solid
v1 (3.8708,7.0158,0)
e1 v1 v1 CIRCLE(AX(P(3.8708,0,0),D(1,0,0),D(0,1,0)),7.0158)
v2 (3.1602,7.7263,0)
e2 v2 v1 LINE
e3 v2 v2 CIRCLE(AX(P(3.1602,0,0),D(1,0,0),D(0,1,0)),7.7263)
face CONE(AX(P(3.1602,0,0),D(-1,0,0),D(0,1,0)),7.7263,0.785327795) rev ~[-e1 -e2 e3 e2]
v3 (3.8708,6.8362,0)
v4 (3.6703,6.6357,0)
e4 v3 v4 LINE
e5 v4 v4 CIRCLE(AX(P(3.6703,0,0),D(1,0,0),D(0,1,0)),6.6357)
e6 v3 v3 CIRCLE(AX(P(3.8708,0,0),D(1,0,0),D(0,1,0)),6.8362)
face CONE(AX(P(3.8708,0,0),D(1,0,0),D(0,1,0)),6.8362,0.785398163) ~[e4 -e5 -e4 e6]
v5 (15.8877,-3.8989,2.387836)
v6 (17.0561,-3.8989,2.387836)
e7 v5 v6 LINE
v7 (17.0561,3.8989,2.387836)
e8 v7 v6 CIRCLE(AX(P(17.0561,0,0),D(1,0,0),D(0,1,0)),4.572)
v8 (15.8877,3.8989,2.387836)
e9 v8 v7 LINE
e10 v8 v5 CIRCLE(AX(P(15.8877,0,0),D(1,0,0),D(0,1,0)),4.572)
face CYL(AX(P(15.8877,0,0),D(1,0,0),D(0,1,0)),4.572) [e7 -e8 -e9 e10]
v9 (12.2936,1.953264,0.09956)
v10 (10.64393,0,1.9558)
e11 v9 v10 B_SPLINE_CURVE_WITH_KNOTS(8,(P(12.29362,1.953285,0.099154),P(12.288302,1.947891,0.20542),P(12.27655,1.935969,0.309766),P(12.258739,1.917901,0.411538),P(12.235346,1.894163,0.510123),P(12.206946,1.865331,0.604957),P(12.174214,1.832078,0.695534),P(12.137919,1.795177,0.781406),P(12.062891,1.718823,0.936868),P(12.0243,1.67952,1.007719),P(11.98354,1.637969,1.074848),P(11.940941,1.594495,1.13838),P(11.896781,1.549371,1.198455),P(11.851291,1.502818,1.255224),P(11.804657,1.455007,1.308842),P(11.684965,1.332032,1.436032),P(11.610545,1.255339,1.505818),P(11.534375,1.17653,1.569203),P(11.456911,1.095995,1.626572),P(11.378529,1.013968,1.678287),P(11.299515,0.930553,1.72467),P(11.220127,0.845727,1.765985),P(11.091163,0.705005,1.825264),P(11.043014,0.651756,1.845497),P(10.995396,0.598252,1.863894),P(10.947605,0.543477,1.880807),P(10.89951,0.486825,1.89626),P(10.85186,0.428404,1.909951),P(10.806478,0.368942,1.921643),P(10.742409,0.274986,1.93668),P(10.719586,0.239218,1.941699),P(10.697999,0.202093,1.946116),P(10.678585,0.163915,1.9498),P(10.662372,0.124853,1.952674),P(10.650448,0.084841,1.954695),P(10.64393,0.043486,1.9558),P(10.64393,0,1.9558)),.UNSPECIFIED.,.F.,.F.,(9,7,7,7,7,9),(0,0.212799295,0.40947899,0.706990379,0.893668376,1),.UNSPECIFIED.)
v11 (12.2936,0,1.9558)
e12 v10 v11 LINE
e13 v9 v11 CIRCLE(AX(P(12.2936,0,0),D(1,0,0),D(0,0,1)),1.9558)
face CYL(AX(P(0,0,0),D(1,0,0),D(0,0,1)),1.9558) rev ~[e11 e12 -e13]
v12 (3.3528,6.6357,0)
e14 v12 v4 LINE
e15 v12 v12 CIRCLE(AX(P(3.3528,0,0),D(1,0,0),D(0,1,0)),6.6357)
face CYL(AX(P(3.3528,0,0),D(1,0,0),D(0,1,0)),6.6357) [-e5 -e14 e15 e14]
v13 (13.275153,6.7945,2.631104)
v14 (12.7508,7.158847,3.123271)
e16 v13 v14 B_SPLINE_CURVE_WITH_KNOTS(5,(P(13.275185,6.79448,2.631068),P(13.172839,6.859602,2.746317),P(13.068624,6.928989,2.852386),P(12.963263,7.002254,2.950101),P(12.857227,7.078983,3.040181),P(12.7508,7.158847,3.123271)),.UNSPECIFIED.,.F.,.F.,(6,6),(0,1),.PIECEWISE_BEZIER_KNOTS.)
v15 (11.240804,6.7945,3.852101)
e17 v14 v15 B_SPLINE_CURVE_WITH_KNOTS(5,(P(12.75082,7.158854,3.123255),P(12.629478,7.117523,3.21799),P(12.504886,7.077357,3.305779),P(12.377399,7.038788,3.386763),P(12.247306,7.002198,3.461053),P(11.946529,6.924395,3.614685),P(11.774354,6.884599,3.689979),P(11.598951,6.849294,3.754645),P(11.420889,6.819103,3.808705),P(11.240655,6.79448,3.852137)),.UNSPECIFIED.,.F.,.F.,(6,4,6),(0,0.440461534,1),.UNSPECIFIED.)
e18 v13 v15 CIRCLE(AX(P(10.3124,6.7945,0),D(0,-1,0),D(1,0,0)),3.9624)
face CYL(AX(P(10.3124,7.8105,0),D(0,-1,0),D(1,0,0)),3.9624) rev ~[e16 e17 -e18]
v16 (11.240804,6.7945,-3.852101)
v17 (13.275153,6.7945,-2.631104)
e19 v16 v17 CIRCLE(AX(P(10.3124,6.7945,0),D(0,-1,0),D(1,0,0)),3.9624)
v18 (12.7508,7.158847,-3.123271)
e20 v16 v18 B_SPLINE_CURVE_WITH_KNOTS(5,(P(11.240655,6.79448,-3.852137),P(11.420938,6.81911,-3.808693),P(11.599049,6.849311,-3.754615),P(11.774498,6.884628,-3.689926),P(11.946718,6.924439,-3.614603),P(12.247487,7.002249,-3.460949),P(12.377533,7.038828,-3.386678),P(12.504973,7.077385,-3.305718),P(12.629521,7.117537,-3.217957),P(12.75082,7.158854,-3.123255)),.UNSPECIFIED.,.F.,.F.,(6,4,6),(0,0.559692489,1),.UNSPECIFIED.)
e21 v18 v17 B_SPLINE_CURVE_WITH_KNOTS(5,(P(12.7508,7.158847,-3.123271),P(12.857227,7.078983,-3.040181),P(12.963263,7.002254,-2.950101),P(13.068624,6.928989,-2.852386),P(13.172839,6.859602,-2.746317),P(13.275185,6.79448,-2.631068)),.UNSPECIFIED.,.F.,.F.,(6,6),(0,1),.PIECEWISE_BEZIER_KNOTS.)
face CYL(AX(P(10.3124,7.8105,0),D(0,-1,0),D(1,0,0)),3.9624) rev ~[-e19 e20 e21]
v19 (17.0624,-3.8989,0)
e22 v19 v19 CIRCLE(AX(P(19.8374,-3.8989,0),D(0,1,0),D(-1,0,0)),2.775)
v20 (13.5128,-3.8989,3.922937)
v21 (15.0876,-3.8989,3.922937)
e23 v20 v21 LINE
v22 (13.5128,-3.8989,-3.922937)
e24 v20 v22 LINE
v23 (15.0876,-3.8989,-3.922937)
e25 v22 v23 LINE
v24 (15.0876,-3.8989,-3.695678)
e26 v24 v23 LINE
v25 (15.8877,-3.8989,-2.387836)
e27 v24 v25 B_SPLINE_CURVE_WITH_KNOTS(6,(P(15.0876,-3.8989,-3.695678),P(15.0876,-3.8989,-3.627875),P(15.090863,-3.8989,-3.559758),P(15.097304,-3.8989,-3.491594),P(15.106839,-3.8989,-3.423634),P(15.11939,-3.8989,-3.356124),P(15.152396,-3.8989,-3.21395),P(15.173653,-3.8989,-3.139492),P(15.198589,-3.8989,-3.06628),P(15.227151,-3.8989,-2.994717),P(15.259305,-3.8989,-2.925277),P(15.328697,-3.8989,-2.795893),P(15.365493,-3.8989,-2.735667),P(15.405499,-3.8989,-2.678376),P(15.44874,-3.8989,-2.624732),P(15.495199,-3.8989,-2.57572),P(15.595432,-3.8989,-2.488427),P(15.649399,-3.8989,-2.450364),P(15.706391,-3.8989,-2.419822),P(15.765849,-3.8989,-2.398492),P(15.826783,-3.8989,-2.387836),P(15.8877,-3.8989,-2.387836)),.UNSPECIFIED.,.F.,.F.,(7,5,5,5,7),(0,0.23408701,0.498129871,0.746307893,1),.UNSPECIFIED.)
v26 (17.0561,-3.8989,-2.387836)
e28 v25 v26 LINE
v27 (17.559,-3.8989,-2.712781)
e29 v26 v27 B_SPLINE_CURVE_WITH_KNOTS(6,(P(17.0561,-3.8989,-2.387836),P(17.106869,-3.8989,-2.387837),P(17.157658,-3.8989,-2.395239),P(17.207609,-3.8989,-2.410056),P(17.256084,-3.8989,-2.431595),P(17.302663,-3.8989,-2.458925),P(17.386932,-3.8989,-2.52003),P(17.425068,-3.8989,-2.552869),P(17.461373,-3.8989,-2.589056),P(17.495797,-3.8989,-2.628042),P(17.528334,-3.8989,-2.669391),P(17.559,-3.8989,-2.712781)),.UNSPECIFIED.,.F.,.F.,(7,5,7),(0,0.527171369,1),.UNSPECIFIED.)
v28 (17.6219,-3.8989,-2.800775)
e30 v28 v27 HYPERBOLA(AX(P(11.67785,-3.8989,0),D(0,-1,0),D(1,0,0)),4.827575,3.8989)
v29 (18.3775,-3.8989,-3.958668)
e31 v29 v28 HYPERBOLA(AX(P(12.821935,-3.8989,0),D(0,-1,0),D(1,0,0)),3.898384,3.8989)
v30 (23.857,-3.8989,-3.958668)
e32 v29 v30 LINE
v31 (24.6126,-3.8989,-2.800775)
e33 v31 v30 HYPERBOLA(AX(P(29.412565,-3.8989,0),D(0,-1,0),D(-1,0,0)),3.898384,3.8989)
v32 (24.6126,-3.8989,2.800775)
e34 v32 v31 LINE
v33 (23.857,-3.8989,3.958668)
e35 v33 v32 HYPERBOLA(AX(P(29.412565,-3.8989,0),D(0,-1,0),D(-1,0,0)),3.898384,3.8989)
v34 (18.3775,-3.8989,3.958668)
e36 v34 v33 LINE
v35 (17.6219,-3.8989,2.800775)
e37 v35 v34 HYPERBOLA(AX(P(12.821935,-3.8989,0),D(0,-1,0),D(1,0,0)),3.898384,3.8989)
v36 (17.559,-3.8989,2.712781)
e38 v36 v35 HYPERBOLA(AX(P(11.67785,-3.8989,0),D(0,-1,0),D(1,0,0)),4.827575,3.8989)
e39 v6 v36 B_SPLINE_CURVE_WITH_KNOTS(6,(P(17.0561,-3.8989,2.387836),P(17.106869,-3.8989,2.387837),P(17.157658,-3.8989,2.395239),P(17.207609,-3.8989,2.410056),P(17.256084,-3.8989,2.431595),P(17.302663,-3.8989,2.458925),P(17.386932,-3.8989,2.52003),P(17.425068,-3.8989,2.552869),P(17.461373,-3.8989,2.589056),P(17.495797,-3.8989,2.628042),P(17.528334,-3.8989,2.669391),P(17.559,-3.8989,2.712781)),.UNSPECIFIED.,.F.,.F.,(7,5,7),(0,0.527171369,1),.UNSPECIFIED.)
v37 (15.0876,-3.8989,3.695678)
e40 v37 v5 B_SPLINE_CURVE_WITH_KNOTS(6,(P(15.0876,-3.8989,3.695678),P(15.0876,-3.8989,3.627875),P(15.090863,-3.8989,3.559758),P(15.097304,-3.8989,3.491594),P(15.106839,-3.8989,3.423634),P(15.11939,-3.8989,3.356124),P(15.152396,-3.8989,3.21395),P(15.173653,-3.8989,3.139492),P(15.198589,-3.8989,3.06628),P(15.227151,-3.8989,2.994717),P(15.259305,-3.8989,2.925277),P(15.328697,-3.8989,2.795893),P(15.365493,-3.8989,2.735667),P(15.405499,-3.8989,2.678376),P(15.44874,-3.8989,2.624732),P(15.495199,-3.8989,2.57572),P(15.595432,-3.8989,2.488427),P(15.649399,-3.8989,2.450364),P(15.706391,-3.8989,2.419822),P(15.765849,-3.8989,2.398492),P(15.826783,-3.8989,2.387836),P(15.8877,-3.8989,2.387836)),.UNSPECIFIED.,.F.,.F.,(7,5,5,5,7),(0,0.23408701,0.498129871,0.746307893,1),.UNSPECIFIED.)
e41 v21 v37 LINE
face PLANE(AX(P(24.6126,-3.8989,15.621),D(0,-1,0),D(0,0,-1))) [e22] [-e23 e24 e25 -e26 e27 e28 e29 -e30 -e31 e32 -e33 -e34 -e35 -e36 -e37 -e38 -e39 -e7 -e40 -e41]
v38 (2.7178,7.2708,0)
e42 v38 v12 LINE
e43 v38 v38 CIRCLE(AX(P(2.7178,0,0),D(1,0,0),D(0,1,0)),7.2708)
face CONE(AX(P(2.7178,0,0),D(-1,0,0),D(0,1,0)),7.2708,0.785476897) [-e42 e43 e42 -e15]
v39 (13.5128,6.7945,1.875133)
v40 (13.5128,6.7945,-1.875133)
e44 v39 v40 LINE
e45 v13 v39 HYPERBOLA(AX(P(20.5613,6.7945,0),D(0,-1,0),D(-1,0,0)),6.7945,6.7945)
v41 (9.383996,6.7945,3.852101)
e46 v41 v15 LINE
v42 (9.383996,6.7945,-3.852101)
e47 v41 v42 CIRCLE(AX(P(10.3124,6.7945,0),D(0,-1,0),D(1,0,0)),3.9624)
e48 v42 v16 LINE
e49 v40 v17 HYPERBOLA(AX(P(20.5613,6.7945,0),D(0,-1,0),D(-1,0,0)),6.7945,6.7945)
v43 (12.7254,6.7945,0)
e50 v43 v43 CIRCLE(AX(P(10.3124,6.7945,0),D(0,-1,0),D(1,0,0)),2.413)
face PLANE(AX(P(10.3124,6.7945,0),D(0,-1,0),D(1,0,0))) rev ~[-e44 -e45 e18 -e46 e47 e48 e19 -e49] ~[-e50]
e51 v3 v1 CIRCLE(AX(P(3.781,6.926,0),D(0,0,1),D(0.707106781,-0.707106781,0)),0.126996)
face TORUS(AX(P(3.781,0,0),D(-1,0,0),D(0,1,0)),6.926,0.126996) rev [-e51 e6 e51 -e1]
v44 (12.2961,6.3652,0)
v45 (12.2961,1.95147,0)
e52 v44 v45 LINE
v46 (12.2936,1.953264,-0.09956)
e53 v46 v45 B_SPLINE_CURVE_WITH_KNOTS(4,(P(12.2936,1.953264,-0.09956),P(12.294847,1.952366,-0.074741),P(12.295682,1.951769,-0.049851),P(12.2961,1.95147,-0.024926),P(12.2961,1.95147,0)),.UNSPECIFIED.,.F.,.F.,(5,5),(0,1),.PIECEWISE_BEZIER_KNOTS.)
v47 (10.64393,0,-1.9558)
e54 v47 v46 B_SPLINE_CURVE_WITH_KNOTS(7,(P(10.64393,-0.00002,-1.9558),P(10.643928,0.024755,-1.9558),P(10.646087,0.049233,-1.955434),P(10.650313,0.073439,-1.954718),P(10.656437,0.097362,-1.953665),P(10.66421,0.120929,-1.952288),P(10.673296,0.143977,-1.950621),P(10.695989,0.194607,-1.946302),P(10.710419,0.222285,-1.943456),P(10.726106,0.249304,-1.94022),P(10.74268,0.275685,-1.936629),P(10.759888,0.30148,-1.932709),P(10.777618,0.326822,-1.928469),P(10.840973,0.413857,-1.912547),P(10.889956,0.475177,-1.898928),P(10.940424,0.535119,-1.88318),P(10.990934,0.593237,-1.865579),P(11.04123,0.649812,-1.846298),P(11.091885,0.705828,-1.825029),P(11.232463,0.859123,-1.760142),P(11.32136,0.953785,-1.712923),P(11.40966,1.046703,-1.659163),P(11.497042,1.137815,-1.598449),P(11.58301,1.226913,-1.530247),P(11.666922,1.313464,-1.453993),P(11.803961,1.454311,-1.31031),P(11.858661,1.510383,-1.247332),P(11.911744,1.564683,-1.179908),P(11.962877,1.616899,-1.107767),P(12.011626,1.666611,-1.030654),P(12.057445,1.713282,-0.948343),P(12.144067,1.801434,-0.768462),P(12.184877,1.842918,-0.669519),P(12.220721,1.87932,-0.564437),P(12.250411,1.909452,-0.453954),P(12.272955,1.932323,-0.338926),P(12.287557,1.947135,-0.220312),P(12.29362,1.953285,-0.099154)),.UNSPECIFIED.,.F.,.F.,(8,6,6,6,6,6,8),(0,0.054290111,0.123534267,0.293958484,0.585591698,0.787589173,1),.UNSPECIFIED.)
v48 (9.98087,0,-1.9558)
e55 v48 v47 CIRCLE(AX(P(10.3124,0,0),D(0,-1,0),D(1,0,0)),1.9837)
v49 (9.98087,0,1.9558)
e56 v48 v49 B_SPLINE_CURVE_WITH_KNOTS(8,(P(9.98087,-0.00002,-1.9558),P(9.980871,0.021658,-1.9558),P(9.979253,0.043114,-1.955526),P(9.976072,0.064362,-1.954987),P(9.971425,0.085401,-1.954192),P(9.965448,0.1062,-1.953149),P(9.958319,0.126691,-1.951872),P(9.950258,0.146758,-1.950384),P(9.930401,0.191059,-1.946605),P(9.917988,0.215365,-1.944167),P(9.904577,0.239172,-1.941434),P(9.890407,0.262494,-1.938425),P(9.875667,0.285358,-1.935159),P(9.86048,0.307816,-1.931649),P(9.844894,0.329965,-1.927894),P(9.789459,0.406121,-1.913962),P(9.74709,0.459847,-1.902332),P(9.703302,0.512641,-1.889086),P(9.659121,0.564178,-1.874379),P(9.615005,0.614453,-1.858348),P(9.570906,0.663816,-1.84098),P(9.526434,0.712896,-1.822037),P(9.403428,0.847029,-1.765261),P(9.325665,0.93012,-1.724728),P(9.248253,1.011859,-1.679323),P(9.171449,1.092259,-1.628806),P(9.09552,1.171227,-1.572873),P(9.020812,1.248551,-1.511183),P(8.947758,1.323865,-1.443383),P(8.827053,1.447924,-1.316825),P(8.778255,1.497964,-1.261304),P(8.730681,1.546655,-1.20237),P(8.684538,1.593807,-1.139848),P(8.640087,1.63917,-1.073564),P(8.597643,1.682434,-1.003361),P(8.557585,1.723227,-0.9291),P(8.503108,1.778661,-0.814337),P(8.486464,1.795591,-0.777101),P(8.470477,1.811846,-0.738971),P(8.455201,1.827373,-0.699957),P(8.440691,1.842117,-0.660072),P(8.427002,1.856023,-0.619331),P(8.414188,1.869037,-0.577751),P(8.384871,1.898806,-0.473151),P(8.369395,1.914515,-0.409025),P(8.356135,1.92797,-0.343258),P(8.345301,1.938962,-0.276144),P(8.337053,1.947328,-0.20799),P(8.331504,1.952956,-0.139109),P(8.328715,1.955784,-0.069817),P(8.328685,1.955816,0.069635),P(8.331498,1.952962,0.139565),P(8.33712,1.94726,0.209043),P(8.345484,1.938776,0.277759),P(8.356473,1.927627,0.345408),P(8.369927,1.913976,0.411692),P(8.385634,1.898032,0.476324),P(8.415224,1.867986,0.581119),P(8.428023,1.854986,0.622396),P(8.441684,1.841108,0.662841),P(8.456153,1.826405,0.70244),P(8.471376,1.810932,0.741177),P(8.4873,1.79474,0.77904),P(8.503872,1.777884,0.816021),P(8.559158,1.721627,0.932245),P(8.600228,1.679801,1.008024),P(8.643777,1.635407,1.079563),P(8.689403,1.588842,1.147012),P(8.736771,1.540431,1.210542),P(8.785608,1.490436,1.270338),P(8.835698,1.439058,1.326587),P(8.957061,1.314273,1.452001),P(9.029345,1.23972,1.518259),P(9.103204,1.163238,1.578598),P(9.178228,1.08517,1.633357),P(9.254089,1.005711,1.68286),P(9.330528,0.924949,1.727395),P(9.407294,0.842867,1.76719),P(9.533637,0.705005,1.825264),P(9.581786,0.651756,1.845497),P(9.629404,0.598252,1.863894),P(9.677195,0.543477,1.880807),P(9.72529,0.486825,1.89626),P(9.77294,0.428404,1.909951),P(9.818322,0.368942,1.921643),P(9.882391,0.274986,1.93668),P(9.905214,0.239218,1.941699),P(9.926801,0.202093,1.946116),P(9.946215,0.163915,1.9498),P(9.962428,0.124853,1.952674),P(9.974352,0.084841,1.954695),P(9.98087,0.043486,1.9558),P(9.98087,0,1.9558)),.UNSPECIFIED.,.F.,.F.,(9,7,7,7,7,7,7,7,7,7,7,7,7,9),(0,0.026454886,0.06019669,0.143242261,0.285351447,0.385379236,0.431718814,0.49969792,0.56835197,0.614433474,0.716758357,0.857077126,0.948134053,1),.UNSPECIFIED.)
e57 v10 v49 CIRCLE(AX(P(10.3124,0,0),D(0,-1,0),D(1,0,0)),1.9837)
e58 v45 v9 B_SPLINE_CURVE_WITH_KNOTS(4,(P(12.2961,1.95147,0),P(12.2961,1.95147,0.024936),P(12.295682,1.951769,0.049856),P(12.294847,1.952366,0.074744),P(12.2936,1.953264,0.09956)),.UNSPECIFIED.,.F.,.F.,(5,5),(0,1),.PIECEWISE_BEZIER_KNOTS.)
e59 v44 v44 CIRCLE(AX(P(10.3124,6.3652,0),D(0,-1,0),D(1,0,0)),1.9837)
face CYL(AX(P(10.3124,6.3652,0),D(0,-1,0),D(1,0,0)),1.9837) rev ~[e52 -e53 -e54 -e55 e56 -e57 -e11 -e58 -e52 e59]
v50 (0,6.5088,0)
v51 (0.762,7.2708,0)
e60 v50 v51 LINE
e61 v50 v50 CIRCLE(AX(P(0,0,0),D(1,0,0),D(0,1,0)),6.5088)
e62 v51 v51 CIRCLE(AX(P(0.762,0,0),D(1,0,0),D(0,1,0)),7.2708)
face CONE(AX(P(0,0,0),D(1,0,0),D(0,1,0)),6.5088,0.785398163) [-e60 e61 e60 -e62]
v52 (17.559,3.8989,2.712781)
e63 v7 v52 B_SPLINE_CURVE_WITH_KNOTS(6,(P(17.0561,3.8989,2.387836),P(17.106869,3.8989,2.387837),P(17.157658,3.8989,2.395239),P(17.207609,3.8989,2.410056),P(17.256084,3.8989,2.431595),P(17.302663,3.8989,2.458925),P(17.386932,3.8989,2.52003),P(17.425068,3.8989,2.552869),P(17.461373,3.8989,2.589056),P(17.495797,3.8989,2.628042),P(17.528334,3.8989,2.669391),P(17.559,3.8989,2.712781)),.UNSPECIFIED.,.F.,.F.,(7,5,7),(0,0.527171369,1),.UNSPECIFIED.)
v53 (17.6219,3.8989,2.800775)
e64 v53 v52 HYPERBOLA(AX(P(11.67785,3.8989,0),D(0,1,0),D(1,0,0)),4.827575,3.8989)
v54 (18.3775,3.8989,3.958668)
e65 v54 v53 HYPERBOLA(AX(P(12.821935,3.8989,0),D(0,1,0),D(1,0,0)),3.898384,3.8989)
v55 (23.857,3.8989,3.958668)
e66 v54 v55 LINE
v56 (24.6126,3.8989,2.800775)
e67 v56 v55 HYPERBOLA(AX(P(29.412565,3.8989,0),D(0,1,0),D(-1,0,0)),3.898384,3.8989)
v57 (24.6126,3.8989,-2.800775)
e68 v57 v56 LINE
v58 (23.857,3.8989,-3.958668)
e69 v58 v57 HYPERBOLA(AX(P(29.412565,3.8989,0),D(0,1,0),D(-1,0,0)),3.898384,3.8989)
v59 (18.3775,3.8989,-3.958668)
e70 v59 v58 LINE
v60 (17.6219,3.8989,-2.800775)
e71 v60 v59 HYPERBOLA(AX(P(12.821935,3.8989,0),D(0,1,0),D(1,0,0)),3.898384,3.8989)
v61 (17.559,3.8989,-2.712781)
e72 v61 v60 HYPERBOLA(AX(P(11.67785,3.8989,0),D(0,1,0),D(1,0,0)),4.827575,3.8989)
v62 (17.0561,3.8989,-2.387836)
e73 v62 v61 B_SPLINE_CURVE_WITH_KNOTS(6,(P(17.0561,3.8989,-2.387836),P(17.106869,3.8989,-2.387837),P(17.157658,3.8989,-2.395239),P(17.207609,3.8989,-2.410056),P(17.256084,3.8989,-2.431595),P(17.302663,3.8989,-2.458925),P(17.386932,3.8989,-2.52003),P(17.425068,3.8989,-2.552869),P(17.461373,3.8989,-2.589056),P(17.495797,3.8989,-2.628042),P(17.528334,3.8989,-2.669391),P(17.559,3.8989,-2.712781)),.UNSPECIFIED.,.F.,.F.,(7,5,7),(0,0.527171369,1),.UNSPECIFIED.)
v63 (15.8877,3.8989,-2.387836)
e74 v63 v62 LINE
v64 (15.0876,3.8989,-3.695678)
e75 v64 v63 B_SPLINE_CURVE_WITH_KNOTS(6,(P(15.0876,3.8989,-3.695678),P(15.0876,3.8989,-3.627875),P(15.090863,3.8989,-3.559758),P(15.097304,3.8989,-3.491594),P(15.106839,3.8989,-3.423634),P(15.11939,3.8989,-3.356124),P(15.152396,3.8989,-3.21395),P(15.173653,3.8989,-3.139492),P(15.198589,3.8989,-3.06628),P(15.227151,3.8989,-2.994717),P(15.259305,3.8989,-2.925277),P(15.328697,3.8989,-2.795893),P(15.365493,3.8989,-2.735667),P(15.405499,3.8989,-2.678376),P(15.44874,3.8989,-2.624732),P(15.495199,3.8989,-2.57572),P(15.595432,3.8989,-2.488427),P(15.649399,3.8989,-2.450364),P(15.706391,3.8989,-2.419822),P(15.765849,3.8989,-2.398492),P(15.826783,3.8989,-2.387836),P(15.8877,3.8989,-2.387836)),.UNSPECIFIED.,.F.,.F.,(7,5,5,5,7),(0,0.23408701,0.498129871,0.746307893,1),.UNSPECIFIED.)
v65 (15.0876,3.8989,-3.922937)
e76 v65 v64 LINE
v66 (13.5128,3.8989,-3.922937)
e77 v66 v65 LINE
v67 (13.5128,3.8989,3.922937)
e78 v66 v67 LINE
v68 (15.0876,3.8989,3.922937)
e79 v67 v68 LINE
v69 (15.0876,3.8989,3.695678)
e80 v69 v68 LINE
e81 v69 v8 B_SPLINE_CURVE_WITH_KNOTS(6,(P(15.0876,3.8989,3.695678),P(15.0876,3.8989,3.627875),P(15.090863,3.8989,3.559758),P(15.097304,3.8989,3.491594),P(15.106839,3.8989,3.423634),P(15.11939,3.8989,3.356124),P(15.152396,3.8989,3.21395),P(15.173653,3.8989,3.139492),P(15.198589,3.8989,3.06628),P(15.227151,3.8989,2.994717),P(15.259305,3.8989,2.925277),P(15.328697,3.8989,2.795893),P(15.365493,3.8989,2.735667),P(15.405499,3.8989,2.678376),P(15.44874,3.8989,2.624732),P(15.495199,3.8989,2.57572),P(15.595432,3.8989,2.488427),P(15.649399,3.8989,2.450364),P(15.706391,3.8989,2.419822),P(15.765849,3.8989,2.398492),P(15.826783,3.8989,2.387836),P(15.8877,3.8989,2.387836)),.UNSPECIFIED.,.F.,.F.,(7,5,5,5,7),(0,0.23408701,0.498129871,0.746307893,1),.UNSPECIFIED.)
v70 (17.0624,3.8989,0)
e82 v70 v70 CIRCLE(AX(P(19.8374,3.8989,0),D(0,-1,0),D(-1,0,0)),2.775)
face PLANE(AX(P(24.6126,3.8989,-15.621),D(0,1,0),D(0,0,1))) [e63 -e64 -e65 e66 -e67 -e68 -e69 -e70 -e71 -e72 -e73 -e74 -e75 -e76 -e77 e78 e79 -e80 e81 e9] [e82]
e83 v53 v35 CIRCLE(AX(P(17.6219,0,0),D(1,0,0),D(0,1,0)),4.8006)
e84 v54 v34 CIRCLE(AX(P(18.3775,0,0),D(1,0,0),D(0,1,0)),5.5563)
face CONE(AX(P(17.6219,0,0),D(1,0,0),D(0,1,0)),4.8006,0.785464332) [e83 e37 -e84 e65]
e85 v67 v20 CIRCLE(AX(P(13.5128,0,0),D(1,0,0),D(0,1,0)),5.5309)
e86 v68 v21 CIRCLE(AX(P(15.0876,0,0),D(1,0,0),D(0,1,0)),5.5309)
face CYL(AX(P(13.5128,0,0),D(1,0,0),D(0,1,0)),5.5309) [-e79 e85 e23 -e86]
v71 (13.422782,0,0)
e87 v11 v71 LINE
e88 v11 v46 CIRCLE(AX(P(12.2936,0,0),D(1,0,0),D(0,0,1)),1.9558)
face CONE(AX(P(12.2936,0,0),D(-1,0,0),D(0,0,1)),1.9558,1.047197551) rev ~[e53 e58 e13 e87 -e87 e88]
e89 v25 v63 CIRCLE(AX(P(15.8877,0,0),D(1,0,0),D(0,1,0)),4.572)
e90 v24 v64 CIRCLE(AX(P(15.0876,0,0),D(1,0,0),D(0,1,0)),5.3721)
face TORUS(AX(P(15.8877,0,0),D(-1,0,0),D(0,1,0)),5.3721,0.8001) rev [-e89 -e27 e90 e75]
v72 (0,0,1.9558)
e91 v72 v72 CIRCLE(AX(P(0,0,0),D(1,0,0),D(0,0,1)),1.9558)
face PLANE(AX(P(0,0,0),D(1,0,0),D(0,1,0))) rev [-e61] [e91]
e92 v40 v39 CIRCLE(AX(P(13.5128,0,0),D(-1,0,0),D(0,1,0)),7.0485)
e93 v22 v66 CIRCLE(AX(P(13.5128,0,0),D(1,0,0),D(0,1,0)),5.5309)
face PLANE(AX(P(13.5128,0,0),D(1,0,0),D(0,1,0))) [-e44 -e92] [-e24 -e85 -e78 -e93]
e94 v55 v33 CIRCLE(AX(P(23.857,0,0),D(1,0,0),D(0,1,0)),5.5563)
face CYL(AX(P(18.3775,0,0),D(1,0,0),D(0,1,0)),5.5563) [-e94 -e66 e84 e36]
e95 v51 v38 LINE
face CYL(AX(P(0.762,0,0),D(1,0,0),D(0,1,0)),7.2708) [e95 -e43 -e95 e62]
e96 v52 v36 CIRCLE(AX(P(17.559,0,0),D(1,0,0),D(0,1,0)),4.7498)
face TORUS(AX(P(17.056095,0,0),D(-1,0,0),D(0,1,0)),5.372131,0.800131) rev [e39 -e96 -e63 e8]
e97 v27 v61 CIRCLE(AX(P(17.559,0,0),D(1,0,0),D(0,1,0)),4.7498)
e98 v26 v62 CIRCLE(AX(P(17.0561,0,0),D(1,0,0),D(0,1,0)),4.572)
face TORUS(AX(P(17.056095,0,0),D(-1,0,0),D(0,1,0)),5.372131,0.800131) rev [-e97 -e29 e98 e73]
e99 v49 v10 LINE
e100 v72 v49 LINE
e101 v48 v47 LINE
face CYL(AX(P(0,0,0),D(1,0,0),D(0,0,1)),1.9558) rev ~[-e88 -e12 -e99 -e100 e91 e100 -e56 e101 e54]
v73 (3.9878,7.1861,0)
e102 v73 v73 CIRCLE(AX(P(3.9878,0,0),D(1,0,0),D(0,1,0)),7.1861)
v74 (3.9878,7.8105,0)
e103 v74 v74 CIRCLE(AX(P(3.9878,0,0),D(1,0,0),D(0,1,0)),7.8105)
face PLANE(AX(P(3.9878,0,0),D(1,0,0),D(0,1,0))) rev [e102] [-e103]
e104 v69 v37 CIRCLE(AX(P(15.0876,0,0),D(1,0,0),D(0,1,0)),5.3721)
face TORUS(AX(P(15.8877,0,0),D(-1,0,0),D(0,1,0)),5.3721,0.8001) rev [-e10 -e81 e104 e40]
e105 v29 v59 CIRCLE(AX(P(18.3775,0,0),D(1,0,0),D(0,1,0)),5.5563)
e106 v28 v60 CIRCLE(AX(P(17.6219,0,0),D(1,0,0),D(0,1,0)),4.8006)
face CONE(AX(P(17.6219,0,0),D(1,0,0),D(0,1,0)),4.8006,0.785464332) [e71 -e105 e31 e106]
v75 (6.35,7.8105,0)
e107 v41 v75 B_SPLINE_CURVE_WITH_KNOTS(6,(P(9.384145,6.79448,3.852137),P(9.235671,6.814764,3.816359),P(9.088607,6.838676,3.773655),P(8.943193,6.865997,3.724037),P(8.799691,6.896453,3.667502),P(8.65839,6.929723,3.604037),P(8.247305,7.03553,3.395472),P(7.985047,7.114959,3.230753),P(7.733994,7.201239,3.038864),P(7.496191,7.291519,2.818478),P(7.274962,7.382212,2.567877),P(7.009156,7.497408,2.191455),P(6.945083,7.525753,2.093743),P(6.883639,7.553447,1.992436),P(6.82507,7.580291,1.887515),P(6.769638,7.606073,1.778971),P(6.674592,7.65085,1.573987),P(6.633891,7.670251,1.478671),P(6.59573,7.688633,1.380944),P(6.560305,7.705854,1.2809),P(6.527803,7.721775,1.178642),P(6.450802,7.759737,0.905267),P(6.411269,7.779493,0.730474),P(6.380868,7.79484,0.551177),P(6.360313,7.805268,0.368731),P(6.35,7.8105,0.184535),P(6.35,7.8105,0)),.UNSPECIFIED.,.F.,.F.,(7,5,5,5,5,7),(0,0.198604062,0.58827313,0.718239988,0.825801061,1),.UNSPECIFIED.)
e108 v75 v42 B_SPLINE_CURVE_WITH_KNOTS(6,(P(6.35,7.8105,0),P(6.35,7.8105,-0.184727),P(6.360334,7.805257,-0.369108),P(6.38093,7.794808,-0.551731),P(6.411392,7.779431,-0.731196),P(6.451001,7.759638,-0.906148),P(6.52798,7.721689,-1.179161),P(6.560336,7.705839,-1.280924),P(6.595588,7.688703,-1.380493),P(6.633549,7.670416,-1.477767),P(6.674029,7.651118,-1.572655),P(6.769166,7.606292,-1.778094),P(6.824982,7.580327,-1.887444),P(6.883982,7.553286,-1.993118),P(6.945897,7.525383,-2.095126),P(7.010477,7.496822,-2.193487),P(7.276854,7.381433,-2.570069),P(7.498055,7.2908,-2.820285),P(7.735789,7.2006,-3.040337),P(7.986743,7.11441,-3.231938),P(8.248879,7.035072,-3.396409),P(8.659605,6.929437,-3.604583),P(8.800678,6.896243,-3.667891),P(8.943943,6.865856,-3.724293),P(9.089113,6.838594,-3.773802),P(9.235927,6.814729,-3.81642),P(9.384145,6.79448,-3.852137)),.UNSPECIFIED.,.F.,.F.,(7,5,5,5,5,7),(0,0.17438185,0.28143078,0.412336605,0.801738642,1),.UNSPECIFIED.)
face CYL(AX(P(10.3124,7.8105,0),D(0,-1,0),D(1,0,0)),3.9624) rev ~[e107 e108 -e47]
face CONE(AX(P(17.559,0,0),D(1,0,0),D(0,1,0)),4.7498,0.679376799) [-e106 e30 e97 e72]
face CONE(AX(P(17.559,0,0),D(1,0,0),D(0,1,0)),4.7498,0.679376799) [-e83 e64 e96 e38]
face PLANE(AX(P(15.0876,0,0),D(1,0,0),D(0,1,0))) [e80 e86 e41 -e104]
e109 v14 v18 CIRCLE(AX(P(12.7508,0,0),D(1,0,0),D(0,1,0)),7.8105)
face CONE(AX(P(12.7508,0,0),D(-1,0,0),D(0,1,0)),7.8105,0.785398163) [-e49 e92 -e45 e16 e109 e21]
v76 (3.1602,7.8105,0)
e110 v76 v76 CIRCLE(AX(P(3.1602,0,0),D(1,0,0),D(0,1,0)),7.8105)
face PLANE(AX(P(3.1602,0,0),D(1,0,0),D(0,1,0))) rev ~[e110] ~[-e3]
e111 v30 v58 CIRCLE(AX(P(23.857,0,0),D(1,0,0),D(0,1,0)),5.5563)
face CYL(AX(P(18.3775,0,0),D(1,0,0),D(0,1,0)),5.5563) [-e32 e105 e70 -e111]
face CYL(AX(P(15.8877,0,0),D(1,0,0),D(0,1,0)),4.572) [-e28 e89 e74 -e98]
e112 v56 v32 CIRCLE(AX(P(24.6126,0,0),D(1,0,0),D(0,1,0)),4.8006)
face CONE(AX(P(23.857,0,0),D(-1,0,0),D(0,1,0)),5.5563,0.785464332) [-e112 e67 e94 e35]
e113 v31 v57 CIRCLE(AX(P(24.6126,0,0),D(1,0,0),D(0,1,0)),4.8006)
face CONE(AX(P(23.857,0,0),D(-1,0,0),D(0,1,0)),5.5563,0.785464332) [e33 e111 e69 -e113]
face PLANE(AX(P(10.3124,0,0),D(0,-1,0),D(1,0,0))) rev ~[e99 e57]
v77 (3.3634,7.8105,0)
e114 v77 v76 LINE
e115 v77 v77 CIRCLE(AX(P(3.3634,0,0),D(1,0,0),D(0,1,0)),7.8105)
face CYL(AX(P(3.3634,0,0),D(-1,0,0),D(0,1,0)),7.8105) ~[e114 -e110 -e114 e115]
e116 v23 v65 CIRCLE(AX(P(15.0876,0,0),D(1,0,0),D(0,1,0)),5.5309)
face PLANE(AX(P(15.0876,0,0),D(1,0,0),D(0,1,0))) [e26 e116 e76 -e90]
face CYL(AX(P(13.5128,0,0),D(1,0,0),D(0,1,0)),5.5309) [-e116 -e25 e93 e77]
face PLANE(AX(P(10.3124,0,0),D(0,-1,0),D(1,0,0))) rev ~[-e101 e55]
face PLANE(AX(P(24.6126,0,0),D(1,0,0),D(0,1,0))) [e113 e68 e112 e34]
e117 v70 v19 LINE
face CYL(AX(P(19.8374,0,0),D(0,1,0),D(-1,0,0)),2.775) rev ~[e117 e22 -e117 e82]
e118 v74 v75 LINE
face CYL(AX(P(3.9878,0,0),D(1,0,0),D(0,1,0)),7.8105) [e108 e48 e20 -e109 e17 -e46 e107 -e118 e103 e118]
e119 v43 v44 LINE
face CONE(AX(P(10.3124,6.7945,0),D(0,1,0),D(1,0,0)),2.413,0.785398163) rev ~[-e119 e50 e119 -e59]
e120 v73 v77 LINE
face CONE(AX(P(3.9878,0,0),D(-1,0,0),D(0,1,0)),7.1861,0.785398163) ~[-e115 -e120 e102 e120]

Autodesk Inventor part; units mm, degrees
sketch "Sketch_18" plane through (0, 0, 0) normal (0, 0, 1) x (1, 0, 0)
  line L0 (13.5128, 0) -> (0, 0)
  line L1 (0, 0) -> (0, 6.5088)
  line L2 (0, 6.5088) -> (0.762, 7.2708)
  line L3 (0.762, 7.2708) -> (2.7178, 7.2708)
  line L4 (2.7178, 7.2708) -> (3.3528, 6.6357)
  line L5 (3.3528, 6.6357) -> (3.9878, 6.6357)
  line L6 (3.9878, 6.6357) -> (3.9878, 7.8105)
  line L7 (3.9878, 7.8105) -> (12.7508, 7.8105)
  line L8 (12.7508, 7.8105) -> (13.5128, 7.0485)
  line L9 (13.5128, 7.0485) -> (13.5128, 0)
  line L10 (13.5128, 0) -> (0, 0)
revolve "Revolution1" add sketch "Sketch_18" angle 360 about axis through (13.5128, 0, 0) along (1, 0, 0)
sketch "Sketch_15" plane through (0, 0, 0) normal (0, 0, 1) x (1, 0, 0)
  line L0 (24.6126, 0) -> (13.5128, 0)
  line L1 (13.5128, 0) -> (13.5128, 5.5309)
  line L2 (13.5128, 5.5309) -> (15.0876, 5.5309)
  line L3 (15.0876, 5.5309) -> (15.0876, 5.3721)
  arc A0 (15.0876, 5.3721) -> (15.8877, 4.572) centre (15.8877, 5.3721) ccw
  line L4 (15.8877, 4.572) -> (17.0561, 4.572)
  arc A1 (17.0561, 4.572) -> (17.559, 4.7498) centre (17.0561, 5.3721) ccw
  line L5 (17.559, 4.7498) -> (17.6219, 4.8006)
  line L6 (17.6219, 4.8006) -> (18.3775, 5.5563)
  line L7 (18.3775, 5.5563) -> (23.857, 5.5563)
  line L8 (23.857, 5.5563) -> (24.6126, 4.8006)
  line L9 (24.6126, 4.8006) -> (24.6126, 0)
  line L10 (24.6126, 0) -> (13.5128, 0)
revolve "Revolution2" add sketch "Sketch_15" angle 360 about axis through (24.6126, 0, 0) along (1, 0, 0)
thread "Thread1" size "7/16-20 UNF" class "2A" standard "ANSI Unified Screw Threads" full length
sketch "Sketch_70" plane through (24.6126, 0, 0) normal (1, 0, 0) x (0, 0, -1)
  line L0 (-31.242, -15.621) -> (31.242, -15.621)
  line L1 (31.242, -15.621) -> (31.242, 15.621)
  line L2 (31.242, 15.621) -> (-31.242, 15.621)
  line L3 (-31.242, 15.621) -> (-31.242, -15.621)
  line L4 (-15.621, -3.8989) -> (15.621, -3.8989)
  line L5 (15.621, -3.8989) -> (15.621, 3.8989)
  line L6 (15.621, 3.8989) -> (-15.621, 3.8989)
  line L7 (-15.621, 3.8989) -> (-15.621, -3.8989)
extrude "Extrusion1" cut sketch "Sketch_70" against normal blind 11.0998
sketch "Sketch4" plane through (0, 0, 0) normal (-1, 0, 0) x (0, 0, 1)
  point P0 (0, 0)
hole "Hole1" at (0, 0, 0) direction (1, 0, 0) diameter 3.9116 depth 12.2936 tip angle 120
sketch "Sketch_45" plane through (0, 0, 0) normal (0, 0, 1) x (1, 0, 0)
  line L0 (10.3124, 6.7945) -> (10.3124, 7.8105)
  line L1 (10.3124, 7.8105) -> (14.2748, 7.8105)
  line L2 (14.2748, 7.8105) -> (14.2748, 6.7945)
  line L3 (14.2748, 6.7945) -> (10.3124, 6.7945)
  line L4 (10.3124, 6.7945) -> (10.3124, 7.8105)
revolve "Revolution3" cut sketch "Sketch_45" angle 360 about axis through (10.3124, 6.7945, 0) along (0, -1, 0)
sketch "Sketch_46" plane through (0, 0, 0) normal (0, 0, 1) x (1, 0, 0)
  line L0 (10.3124, 0) -> (10.3124, 8.0645)
  line L1 (10.3124, 8.0645) -> (12.7254, 8.0645)
  line L2 (12.7254, 8.0645) -> (12.7254, 6.7945)
  line L3 (12.7254, 6.7945) -> (12.2961, 6.3652)
  line L4 (12.2961, 6.3652) -> (12.2961, 0)
  line L5 (12.2961, 0) -> (10.3124, 0)
  line L6 (10.3124, 0) -> (10.3124, 8.0645)
revolve "Revolution4" cut sketch "Sketch_46" angle 360 about axis through (10.3124, 0, 0) along (0, -1, 0)
thread "Thread2" size "10-32 UNF" class "2B" standard "ANSI Unified Screw Threads" length 4.4094
sketch "Sketch_24" plane through (0, 0, 0) normal (0, 0, 1) x (1, 0, 0)
  line L0 (3.9878, 0) -> (3.3528, 0)
  line L1 (3.1602, 7.8105) -> (3.1602, 7.7263)
  line L2 (3.1602, 7.7263) -> (3.8708, 7.0158)
  arc A0 (3.8708, 6.8362) -> (3.8708, 7.0158) centre (3.781, 6.926) ccw
  line L3 (3.8708, 6.8362) -> (3.6703, 6.6357)
  line L4 (3.6703, 6.6357) -> (3.3528, 6.6357)
  line L5 (3.3528, 6.6357) -> (3.3528, 6.3817)
  line L6 (3.3528, 6.3817) -> (3.9878, 6.3817)
  line L7 (3.9878, 6.3817) -> (3.9878, 7.1861)
  line L8 (3.9878, 7.1861) -> (3.3634, 7.8105)
  line L9 (3.3634, 7.8105) -> (3.1602, 7.8105)
revolve "Revolution5" add sketch "Sketch_24" angle 360 about axis through (3.9878, 0, 0) along (1, 0, 0)
sketch "Sketch_43" plane through (0, 0, 0) normal (0, 1, 0) x (-1, 0, 0)
  circle A0 centre (-19.8374, 0) radius 2.775
extrude "Extrusion2" cut sketch "Sketch_43" along normal mid plane 11.6967
ref_plane "1_XY" through (15.0876, 0, 0) normal (1, 0, 0) x (0, 0, -1)
ref_plane "1_YZ" through (15.0876, 0, 0) normal (0, 0, -1) x (0, 1, 0)
ref_plane "1_ZX" through (15.0876, 0, 0) normal (0, 1, 0) x (1, 0, 0)
ref_plane "c1_XY" through (13.5128, 5.5309, 0) normal (0, 0, 1) x (1, 0, 0)
ref_plane "c1_YZ" through (13.5128, 5.5309, 0) normal (1, 0, 0) x (0, 1, 0)
ref_plane "c1_ZX" through (13.5128, 5.5309, 0) normal (0, 1, 0) x (0, 0, 1)
ref_plane "c2_XY" through (13.5128, -5.5309, 0) normal (0, 0, 1) x (1, 0, 0)
ref_plane "c2_YZ" through (13.5128, -5.5309, 0) normal (1, 0, 0) x (0, 1, 0)
ref_plane "c2_ZX" through (13.5128, -5.5309, 0) normal (0, 1, 0) x (0, 0, 1)
ref_plane "cc1_XY" through (13.5128, 0, 0) normal (0, 0, 1) x (1, 0, 0)
ref_plane "cc1_YZ" through (13.5128, 0, 0) normal (1, 0, 0) x (0, 1, 0)
ref_plane "cc1_ZX" through (13.5128, 0, 0) normal (0, 1, 0) x (0, 0, 1)
ref_plane "cc2_XY" through (15.0876, 0, 0) normal (0, 0, 1) x (1, 0, 0)
ref_plane "cc2_YZ" through (15.0876, 0, 0) normal (1, 0, 0) x (0, 1, 0)
ref_plane "cc2_ZX" through (15.0876, 0, 0) normal (0, 1, 0) x (0, 0, 1)
ref_plane "lovra1_XY" through (19.9644, 0, 0) normal (1, 0, 0) x (0, 0, -1)
ref_plane "lovra1_YZ" through (19.9644, 0, 0) normal (0, 0, -1) x (0, 1, 0)
ref_plane "lovra1_ZX" through (19.9644, 0, 0) normal (0, 1, 0) x (1, 0, 0)
ref_plane "lovra2_XY" through (19.9644, 6.2865, 0) normal (1, 0, 0) x (0, 0, -1)
ref_plane "lovra2_YZ" through (19.9644, 6.2865, 0) normal (0, 0, -1) x (0, 1, 0)
ref_plane "lovra2_ZX" through (19.9644, 6.2865, 0) normal (0, 1, 0) x (1, 0, 0)
ref_plane "lovra21_XY" through (0, 0, 5.2705) normal (1, 0, 0) x (0, 0, -1)
ref_plane "lovra21_YZ" through (0, 0, 5.2705) normal (0, 0, -1) x (0, 1, 0)
ref_plane "lovra21_ZX" through (0, 0, 5.2705) normal (0, 1, 0) x (1, 0, 0)
ref_plane "lovra22_XY" through (0, 0, -5.2705) normal (1, 0, 0) x (0, 0, -1)
ref_plane "lovra22_YZ" through (0, 0, -5.2705) normal (0, 0, -1) x (0, 1, 0)
ref_plane "lovra22_ZX" through (0, 0, -5.2705) normal (0, 1, 0) x (1, 0, 0)
ref_plane "lovra3_XY" through (19.9644, -6.2865, 0) normal (1, 0, 0) x (0, 0, -1)
ref_plane "lovra3_YZ" through (19.9644, -6.2865, 0) normal (0, 0, -1) x (0, 1, 0)
ref_plane "lovra3_ZX" through (19.9644, -6.2865, 0) normal (0, 1, 0) x (1, 0, 0)
ref_plane "olen_XY" through (19.8374, 0, 0) normal (1, 0, 0) x (0, 0, -1)
ref_plane "olen_YZ" through (19.8374, 0, 0) normal (0, 0, -1) x (0, 1, 0)
ref_plane "olen_ZX" through (19.8374, 0, 0) normal (0, 1, 0) x (1, 0, 0)
ref_plane "p1_XY" through (24.6126, 0, 3.9624) normal (1, 0, 0) x (0, 0, -1)
ref_plane "p1_YZ" through (24.6126, 0, 3.9624) normal (0, 0, -1) x (0, 1, 0)
ref_plane "p1_ZX" through (24.6126, 0, 3.9624) normal (0, 1, 0) x (1, 0, 0)
ref_plane "p2_XY" through (24.6126, 0, -3.9624) normal (1, 0, 0) x (0, 0, -1)
ref_plane "p2_YZ" through (24.6126, 0, -3.9624) normal (0, 0, -1) x (0, 1, 0)
ref_plane "p2_ZX" through (24.6126, 0, -3.9624) normal (0, 1, 0) x (1, 0, 0)
ref_plane "port_XY" through (10.3124, 0, 0) normal (0, 0, 1) x (1, 0, 0)
ref_plane "port_YZ" through (10.3124, 0, 0) normal (1, 0, 0) x (0, 1, 0)
ref_plane "port_ZX" through (10.3124, 0, 0) normal (0, 1, 0) x (0, 0, 1)
ref_plane "port2_XY" through (24.6126, 0, 0) normal (1, 0, 0) x (0, 0, -1)
ref_plane "port2_YZ" through (24.6126, 0, 0) normal (0, 0, -1) x (0, 1, 0)
ref_plane "port2_ZX" through (24.6126, 0, 0) normal (0, 1, 0) x (1, 0, 0)
ref_plane "thd1_XY" through (24.6126, 0, 5.5563) normal (1, 0, 0) x (0, 0, -1)
ref_plane "thd1_YZ" through (24.6126, 0, 5.5563) normal (0, 0, -1) x (0, 1, 0)
ref_plane "thd1_ZX" through (24.6126, 0, 5.5563) normal (0, 1, 0) x (1, 0, 0)
ref_plane "thd2_XY" through (24.6126, 0, -5.5563) normal (1, 0, 0) x (0, 0, -1)
ref_plane "thd2_YZ" through (24.6126, 0, -5.5563) normal (0, 0, -1) x (0, 1, 0)
ref_plane "thd2_ZX" through (24.6126, 0, -5.5563) normal (0, 1, 0) x (1, 0, 0)
ref_plane "to_mounting_bracket_XY" through (13.5128, 0, 0) normal (1, 0, 0) x (0, 0, -1)
ref_plane "to_mounting_bracket_YZ" through (13.5128, 0, 0) normal (0, 0, -1) x (0, 1, 0)
ref_plane "to_mounting_bracket_ZX" through (13.5128, 0, 0) normal (0, 1, 0) x (1, 0, 0)
ref_plane "to_nut_XY" through (15.0876, 0, 0) normal (1, 0, 0) x (0, 0, -1)
ref_plane "to_nut_YZ" through (15.0876, 0, 0) normal (0, 0, -1) x (0, 1, 0)
ref_plane "to_nut_ZX" through (15.0876, 0, 0) normal (0, 1, 0) x (1, 0, 0)
ref_plane "to_pin_XY" through (19.8374, 0, 0) normal (0, 1, 0) x (1, 0, 0)
ref_plane "to_pin_YZ" through (19.8374, 0, 0) normal (1, 0, 0) x (0, 0, -1)
ref_plane "to_pin_ZX" through (19.8374, 0, 0) normal (0, 0, -1) x (0, 1, 0)
ref_plane "to_pin_1_XY" through (19.8374, 0, 0) normal (0, 0, 1) x (1, 0, 0)
ref_plane "to_pin_1_YZ" through (19.8374, 0, 0) normal (1, 0, 0) x (0, 1, 0)
ref_plane "to_pin_1_ZX" through (19.8374, 0, 0) normal (0, 1, 0) x (0, 0, 1)
ref_plane "to_pin_r_XY" through (19.8374, 0, 0) normal (0, 0, 1) x (1, 0, 0)
ref_plane "to_pin_r_YZ" through (19.8374, 0, 0) normal (1, 0, 0) x (0, 1, 0)
ref_plane "to_pin_r_ZX" through (19.8374, 0, 0) normal (0, 1, 0) x (0, 0, 1)
ref_plane "to_screw_XY" through (10.3124, 0, 0) normal (0, 1, 0) x (1, 0, 0)
ref_plane "to_screw_YZ" through (10.3124, 0, 0) normal (1, 0, 0) x (0, 0, -1)
ref_plane "to_screw_ZX" through (10.3124, 0, 0) normal (0, 0, -1) x (0, 1, 0)
ref_plane "to_tube_XY" through (3.3528, 0, 0) normal (1, 0, 0) x (0, 0, -1)
ref_plane "to_tube_YZ" through (3.3528, 0, 0) normal (0, 0, -1) x (0, 1, 0)
ref_plane "to_tube_ZX" through (3.3528, 0, 0) normal (0, 1, 0) x (1, 0, 0)
properties part number "02P0Y000_rear_head"
